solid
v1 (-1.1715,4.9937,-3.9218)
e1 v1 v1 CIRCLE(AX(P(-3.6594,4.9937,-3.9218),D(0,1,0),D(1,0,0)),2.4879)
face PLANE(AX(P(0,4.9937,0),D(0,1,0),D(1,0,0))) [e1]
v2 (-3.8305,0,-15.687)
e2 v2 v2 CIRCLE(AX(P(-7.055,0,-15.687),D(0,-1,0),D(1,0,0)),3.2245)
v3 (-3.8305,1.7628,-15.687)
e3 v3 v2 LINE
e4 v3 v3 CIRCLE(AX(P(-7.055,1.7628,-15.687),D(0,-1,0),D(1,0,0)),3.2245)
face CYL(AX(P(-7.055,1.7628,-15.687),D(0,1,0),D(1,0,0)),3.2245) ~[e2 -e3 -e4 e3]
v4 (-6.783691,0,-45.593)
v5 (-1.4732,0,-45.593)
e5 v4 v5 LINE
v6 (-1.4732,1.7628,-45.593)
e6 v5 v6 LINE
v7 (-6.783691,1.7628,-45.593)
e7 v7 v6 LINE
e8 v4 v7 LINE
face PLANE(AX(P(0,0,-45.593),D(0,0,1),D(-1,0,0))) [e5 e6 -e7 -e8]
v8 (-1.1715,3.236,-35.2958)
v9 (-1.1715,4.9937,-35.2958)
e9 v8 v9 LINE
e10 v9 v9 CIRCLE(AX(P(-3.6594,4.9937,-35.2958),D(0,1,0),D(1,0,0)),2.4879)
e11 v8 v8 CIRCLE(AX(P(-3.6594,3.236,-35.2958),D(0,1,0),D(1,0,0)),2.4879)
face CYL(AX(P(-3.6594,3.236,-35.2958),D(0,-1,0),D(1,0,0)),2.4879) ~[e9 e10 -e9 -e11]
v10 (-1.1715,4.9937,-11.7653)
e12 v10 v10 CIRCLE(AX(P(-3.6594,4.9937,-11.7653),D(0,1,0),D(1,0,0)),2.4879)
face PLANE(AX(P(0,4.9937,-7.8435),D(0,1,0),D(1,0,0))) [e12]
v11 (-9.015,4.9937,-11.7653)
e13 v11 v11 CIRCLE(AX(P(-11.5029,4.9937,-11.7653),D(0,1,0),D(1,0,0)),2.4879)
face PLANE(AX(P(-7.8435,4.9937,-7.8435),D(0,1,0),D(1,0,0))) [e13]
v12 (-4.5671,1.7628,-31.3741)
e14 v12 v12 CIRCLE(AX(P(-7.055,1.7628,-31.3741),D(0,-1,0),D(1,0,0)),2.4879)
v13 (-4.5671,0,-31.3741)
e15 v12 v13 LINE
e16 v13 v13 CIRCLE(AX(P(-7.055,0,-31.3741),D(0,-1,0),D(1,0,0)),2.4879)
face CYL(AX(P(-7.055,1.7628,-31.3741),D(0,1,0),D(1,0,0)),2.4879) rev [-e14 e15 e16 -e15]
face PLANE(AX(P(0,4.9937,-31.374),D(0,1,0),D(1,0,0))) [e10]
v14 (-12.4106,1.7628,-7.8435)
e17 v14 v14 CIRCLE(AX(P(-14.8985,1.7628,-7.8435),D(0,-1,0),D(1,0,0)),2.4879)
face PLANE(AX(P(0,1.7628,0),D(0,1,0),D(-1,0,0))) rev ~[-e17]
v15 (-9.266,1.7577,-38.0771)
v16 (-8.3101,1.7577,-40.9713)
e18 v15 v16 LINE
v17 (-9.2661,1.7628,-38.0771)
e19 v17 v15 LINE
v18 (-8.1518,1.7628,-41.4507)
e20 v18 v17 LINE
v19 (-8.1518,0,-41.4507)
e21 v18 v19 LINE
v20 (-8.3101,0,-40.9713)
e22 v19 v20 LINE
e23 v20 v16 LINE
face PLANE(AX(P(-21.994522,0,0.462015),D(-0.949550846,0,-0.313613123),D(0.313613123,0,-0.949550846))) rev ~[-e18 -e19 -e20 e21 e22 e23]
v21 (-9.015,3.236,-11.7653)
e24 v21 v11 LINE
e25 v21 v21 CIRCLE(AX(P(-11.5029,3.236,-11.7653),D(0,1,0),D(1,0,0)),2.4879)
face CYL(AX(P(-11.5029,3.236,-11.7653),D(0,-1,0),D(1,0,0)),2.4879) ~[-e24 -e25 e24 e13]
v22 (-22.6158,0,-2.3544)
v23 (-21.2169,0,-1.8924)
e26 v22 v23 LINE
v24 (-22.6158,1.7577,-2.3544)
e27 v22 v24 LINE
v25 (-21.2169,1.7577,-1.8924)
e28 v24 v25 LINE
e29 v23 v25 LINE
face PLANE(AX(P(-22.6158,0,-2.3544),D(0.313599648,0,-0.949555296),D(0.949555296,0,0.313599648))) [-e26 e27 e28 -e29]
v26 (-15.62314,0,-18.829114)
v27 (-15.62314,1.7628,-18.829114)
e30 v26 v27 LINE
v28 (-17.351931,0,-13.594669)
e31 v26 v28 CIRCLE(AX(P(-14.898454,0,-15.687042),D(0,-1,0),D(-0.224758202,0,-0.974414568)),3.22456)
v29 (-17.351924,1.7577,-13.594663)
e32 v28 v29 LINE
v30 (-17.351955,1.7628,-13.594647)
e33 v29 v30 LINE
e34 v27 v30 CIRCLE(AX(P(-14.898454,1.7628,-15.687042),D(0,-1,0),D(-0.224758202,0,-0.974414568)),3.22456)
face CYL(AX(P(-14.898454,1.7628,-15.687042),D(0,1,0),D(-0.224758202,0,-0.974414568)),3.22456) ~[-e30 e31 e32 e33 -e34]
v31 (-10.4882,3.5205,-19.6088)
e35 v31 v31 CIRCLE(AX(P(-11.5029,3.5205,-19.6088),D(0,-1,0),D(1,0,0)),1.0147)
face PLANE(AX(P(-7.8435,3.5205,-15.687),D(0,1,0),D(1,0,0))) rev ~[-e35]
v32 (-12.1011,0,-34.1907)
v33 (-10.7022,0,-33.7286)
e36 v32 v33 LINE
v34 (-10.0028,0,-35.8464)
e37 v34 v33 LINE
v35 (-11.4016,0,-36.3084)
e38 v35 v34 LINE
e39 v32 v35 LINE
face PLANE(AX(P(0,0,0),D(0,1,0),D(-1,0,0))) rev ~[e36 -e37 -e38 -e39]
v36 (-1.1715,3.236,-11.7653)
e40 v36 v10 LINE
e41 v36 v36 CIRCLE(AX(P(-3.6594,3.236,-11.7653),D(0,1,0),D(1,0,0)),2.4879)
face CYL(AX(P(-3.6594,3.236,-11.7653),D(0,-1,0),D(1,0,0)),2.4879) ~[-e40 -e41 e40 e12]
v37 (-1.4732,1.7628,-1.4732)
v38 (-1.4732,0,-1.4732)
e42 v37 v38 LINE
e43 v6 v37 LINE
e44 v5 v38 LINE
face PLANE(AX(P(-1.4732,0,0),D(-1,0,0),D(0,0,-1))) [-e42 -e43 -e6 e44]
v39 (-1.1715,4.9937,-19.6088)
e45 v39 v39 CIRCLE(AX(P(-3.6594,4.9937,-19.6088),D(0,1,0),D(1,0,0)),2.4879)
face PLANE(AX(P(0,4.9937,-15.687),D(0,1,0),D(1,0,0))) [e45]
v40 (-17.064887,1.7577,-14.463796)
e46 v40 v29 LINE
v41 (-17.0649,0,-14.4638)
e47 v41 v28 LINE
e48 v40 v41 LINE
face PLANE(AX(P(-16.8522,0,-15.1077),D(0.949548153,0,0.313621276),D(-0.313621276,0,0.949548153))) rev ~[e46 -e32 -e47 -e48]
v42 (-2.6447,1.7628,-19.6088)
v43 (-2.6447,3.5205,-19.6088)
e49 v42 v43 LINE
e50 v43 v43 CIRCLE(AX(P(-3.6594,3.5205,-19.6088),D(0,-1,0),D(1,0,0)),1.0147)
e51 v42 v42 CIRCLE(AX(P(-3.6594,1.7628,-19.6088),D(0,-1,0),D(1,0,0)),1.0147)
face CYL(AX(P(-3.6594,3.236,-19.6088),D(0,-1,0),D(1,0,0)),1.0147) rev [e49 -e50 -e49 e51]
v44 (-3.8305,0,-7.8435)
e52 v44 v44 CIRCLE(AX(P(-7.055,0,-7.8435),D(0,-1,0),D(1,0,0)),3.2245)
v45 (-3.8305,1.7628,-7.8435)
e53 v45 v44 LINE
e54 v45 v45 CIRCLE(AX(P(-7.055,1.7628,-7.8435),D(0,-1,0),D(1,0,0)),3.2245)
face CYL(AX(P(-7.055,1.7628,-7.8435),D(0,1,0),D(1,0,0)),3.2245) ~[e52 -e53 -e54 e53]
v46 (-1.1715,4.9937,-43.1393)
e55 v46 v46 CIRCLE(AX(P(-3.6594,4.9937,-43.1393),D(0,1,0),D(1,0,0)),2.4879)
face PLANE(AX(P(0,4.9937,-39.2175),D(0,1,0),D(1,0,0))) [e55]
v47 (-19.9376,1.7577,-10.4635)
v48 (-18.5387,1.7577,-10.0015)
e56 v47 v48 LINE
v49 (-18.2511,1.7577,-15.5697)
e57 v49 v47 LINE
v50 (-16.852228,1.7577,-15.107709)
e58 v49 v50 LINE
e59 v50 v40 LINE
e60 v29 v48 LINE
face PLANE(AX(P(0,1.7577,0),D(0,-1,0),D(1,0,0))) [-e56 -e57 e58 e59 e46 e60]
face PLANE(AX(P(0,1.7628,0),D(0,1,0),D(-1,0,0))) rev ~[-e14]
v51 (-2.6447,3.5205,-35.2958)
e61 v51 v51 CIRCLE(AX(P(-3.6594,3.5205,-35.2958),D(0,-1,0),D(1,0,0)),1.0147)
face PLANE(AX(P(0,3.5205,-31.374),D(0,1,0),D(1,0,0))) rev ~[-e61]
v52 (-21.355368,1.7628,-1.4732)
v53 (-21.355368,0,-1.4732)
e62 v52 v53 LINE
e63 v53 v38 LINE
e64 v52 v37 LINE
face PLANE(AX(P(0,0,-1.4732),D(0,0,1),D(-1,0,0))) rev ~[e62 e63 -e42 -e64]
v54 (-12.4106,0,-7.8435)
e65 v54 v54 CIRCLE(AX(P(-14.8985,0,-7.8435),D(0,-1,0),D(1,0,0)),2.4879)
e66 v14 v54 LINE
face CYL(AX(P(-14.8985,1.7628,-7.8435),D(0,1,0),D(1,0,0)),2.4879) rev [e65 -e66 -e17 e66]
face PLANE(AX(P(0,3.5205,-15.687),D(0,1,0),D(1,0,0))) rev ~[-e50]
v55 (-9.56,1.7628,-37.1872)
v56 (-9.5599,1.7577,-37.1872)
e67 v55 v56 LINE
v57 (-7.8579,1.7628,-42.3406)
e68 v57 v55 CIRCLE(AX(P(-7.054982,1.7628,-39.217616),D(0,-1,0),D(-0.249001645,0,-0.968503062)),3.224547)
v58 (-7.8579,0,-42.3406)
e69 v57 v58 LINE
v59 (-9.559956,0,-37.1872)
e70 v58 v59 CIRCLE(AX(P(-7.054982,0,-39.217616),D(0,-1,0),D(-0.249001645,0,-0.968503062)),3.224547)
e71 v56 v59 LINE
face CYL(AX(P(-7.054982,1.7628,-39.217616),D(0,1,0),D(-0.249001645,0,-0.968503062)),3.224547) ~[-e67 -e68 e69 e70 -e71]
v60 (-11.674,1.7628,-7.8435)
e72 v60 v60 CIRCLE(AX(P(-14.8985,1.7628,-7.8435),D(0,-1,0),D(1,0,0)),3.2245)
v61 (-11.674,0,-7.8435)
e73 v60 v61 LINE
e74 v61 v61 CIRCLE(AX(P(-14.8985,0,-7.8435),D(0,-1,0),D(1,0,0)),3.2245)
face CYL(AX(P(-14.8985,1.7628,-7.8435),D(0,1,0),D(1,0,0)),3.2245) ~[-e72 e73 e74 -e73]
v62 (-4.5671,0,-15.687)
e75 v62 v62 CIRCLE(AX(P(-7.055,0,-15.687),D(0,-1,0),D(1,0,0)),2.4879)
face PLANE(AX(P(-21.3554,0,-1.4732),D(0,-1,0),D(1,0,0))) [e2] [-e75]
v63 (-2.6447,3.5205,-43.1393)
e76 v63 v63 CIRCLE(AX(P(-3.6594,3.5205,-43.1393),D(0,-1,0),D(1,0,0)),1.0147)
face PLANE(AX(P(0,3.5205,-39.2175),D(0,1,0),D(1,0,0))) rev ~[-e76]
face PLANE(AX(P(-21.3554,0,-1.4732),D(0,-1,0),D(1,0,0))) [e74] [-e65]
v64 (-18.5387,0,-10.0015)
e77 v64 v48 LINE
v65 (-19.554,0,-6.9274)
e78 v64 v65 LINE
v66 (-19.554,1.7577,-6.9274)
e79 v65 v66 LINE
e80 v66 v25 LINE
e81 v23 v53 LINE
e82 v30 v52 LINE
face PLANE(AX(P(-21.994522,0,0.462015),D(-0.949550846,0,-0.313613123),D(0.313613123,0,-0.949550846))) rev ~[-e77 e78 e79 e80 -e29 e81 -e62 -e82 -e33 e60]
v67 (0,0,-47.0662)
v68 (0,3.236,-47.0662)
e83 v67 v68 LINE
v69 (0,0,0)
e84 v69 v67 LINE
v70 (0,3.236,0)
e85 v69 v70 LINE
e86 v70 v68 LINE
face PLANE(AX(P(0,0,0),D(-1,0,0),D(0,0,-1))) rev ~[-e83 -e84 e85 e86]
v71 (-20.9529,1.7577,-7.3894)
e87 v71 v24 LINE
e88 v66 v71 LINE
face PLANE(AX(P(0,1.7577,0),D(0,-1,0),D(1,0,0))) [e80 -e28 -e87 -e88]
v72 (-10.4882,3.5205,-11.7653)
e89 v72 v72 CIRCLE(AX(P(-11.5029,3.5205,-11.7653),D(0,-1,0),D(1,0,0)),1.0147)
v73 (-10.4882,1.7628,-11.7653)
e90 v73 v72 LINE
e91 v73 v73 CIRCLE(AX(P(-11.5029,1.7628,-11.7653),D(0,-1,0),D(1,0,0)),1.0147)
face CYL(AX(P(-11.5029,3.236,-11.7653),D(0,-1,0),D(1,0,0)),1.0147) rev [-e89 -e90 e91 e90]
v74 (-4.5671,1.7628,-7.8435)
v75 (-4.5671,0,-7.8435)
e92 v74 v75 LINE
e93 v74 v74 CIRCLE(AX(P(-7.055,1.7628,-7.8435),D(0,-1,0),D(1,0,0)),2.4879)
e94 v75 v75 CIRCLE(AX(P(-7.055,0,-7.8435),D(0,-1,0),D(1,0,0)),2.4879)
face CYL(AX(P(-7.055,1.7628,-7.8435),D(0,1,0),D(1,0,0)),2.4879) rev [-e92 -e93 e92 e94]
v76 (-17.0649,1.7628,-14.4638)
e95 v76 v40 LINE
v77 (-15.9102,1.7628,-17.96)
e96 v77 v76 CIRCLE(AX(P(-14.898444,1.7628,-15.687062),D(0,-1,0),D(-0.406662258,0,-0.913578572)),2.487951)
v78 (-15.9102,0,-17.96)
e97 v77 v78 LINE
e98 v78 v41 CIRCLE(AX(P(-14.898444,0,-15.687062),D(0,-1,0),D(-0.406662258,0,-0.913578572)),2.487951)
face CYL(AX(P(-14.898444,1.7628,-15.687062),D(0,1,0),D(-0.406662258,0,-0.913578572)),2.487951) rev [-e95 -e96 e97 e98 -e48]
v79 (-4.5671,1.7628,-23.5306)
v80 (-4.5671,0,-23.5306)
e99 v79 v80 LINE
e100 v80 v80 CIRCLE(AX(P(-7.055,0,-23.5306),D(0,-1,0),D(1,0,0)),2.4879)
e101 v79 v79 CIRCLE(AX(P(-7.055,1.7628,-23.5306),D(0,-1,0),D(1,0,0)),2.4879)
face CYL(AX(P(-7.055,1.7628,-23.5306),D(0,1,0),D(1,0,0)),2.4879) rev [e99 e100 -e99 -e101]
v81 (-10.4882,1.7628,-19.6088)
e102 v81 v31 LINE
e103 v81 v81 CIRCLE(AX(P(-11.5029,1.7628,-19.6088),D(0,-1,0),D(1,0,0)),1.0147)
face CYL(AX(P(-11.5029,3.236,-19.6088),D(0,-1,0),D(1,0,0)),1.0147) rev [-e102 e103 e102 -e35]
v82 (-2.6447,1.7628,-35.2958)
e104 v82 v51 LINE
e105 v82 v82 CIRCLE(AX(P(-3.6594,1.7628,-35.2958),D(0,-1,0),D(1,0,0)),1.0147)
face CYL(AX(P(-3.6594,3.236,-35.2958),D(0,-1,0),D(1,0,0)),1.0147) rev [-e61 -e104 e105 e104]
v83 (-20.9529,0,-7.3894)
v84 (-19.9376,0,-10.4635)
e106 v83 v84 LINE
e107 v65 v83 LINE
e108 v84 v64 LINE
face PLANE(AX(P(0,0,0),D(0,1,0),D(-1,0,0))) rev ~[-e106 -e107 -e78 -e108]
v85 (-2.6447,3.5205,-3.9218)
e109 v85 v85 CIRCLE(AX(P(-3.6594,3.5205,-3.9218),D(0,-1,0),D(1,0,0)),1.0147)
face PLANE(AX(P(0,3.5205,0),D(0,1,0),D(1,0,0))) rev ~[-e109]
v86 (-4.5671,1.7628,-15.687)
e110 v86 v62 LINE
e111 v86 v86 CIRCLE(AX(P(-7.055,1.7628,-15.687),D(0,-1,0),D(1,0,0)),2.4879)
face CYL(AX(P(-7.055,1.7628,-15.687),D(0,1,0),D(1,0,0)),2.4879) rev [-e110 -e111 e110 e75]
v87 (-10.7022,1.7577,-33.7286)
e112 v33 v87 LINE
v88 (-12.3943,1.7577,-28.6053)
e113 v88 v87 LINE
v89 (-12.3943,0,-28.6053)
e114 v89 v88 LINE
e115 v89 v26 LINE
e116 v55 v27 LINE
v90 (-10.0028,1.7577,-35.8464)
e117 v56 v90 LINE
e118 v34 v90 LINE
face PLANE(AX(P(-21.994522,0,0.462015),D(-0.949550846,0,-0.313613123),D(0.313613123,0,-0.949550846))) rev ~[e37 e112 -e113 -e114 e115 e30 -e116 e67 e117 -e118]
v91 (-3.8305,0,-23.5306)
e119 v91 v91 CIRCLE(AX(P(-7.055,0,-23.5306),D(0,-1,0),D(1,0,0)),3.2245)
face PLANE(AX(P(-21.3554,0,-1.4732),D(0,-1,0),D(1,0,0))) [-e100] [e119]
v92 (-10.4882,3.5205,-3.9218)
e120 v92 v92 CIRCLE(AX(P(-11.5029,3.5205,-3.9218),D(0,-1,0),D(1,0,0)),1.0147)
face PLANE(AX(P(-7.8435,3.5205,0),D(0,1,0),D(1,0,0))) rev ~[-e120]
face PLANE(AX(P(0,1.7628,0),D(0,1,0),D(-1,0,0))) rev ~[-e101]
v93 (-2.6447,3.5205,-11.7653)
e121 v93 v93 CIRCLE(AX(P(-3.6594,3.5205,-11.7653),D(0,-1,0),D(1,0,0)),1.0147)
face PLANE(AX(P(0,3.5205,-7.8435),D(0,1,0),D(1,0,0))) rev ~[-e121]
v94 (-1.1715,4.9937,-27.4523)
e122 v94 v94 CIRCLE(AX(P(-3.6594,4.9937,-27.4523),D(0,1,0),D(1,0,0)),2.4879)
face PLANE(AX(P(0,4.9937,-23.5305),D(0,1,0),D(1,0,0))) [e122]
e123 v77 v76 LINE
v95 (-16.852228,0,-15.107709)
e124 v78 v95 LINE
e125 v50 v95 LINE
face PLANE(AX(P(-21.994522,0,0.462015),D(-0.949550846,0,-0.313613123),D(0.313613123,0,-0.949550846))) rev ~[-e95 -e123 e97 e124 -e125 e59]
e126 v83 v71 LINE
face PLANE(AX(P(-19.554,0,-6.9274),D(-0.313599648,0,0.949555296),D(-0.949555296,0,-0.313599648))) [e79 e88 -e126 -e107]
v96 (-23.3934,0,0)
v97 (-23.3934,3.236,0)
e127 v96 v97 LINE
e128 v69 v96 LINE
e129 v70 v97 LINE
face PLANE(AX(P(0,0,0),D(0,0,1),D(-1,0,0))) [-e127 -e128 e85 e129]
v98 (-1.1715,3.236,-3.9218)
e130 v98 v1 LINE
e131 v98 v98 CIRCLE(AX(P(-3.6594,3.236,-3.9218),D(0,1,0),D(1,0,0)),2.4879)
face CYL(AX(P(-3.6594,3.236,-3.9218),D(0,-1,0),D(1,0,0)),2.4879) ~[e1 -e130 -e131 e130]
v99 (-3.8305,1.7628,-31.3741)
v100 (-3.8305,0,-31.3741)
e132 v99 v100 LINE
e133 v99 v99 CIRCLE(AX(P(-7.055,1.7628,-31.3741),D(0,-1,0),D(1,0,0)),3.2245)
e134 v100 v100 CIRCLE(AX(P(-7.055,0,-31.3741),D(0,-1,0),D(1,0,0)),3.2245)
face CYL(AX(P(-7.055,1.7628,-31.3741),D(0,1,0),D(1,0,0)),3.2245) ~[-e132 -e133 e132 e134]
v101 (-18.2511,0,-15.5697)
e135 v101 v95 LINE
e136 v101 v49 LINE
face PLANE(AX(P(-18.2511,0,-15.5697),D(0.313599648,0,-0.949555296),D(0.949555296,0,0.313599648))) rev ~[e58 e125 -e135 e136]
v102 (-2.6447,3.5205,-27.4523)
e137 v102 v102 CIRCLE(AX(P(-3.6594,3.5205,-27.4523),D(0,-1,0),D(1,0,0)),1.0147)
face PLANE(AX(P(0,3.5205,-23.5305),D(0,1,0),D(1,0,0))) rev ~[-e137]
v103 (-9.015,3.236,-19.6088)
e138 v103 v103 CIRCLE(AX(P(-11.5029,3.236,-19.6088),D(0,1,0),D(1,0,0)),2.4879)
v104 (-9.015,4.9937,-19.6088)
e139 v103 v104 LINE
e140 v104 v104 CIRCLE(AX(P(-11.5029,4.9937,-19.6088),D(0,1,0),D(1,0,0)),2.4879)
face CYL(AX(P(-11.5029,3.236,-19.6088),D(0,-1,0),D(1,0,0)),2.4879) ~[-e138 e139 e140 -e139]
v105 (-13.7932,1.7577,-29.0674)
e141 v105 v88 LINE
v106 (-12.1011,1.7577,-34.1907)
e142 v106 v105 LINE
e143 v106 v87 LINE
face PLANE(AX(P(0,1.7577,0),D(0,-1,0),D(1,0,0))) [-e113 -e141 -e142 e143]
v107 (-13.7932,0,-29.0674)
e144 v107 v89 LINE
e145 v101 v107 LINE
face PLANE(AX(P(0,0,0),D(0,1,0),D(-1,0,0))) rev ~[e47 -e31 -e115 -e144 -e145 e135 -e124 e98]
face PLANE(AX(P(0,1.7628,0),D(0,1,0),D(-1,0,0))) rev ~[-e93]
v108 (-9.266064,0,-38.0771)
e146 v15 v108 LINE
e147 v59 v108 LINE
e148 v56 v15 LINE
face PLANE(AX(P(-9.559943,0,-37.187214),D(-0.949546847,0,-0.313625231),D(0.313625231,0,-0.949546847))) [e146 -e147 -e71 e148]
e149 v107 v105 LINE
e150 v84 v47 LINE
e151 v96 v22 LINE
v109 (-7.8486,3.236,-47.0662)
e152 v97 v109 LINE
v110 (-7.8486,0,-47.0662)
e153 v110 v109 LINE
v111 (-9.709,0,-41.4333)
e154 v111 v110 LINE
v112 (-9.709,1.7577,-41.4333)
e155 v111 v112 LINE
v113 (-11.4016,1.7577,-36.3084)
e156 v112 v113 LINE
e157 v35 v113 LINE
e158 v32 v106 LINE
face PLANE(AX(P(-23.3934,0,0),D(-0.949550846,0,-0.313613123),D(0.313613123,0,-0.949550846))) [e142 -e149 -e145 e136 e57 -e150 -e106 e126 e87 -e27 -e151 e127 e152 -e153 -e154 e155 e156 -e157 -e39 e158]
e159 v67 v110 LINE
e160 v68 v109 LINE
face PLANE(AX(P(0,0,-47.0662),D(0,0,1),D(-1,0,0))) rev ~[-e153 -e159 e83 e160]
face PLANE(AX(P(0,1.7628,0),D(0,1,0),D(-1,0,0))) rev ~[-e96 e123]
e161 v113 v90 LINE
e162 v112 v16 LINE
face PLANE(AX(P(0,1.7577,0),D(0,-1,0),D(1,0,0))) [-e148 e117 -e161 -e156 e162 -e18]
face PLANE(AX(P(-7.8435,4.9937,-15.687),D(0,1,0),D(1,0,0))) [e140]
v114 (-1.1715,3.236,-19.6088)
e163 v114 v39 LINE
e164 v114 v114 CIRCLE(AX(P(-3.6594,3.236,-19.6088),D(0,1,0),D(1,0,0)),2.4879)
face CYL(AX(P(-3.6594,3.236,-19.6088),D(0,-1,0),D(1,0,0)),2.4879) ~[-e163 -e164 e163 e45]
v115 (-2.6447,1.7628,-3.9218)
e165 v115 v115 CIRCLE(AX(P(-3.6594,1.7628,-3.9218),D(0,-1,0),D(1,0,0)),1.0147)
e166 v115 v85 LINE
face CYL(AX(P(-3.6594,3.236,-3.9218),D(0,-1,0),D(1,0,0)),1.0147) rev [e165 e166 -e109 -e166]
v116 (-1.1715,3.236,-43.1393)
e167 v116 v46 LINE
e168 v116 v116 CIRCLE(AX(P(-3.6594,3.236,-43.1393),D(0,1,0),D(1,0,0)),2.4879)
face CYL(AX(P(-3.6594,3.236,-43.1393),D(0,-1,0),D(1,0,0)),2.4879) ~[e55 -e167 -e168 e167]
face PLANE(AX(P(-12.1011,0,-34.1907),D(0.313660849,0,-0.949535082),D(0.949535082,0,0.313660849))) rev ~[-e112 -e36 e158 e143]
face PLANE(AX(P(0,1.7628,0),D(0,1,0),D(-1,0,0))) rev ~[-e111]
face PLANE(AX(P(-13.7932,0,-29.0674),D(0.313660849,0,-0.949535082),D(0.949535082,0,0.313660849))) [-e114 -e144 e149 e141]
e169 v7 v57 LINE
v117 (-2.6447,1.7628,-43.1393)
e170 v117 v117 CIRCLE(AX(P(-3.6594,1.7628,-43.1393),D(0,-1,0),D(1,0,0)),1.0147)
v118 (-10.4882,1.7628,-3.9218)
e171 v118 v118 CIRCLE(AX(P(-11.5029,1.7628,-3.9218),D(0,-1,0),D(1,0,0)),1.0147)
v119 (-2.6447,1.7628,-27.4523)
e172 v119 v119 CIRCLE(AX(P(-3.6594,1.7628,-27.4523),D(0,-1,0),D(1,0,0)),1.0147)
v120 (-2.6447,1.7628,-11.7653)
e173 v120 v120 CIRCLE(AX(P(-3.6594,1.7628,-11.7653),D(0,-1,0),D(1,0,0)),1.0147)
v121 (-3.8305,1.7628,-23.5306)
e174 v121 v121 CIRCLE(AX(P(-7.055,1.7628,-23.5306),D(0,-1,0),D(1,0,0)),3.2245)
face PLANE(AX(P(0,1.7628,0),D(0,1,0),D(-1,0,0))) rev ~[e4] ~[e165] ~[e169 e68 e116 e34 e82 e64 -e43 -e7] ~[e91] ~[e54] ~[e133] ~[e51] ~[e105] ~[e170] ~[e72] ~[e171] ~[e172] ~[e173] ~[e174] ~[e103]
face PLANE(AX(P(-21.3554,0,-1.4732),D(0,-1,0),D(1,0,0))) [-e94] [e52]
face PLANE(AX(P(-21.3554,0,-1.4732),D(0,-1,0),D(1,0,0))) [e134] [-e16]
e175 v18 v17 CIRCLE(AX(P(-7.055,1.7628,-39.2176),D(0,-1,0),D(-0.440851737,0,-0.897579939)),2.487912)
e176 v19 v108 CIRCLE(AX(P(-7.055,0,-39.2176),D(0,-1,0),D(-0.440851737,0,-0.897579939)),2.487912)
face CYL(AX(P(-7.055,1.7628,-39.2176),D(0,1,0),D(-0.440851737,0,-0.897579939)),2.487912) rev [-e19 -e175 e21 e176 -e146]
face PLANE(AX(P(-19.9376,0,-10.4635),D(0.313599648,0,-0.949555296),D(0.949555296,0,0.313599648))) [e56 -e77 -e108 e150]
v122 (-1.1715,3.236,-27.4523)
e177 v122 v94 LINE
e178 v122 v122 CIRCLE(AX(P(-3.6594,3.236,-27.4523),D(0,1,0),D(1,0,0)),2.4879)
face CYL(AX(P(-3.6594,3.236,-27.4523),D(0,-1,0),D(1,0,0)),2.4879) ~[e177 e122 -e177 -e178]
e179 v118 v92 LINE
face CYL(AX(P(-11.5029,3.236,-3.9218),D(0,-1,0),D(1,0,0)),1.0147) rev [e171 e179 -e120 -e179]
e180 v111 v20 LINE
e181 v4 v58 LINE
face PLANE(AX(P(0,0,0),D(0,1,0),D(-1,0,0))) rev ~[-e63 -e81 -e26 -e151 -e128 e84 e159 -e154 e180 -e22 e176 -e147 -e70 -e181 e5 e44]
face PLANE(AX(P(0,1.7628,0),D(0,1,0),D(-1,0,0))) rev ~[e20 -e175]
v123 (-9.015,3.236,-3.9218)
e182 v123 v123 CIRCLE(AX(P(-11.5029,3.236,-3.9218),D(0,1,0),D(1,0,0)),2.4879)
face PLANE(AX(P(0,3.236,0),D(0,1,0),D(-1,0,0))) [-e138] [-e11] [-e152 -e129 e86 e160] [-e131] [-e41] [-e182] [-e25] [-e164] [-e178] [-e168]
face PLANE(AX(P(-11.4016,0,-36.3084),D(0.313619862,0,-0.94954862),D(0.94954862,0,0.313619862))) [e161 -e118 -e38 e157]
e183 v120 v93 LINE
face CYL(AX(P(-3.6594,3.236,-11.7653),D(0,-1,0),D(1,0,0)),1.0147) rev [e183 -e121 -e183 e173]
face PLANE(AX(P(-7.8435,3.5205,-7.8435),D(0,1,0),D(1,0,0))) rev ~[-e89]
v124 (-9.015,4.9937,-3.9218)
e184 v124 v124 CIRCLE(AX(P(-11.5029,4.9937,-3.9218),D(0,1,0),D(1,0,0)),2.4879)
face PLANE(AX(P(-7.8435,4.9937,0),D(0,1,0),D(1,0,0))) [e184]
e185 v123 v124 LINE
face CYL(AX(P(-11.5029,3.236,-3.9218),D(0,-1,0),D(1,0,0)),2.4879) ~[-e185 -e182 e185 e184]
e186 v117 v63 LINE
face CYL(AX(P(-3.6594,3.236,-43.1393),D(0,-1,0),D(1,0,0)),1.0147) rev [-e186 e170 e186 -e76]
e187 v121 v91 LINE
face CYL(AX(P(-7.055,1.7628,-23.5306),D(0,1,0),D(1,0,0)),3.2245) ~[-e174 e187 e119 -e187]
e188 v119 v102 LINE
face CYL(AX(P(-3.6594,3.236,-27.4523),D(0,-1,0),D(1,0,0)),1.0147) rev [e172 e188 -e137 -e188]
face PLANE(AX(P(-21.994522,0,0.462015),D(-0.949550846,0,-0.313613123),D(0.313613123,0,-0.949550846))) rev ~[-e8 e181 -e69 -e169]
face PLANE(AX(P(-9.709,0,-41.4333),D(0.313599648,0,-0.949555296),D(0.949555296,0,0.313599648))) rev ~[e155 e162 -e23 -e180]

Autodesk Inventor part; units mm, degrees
ref_plane "YZ Plane" through (0, 0, 0) normal (1, 0, 0) x (0, 1, 0)
ref_plane "XZ Plane" through (0, 0, 0) normal (0, 1, 0) x (-1, 0, 0)
sketch "Sketch1" plane through (0, 0, 0) normal (0, 1, 0) x (-1, 0, 0)
  line L0 (0, 0) -> (0, -47.0662)
  line L1 (0, -47.0662) -> (7.8486, -47.0662)
  line L2 (0, 0) -> (23.3934, 0)
  line L3 (23.3934, 0) -> (7.8486, -47.0662)
  dimension "d0" = 47.0662
  dimension "d1" = 7.8486
  dimension "d2" = 23.3934
extrude "Extrusion1" add sketch "Sketch1" along normal blind 3.236
sketch "Sketch2" plane through (0, 3.236, 0) normal (0, 1, 0) x (1, 0, 0)
  circle A0 centre (-3.6594, 3.9218) radius 2.4879
  line L0 (-23.3934, 0) -> (0, 0) projected
  dimension "d5" = 4.9759
  dimension "d6" = 3.9218
extrude "Extrusion2" add sketch "Sketch2" along normal blind 1.7577
ref_plane "Work Plane1" through (-11.503, 4.9936, -43.1394) normal (0, 1, 0) x (1, 0, 0)
sketch "Sketch3" plane through (-11.503, 4.9936, -43.1394) normal (0, 1, 0) x (1, 0, 0)
  point P0 (11.503, -43.1394)
pattern_linear "Rectangular Pattern2" count 6 spacing 7.8435 along (0, 0, -1) of "Extrusion2"
pattern_linear "Rectangular Pattern3" count 2 spacing 7.8435 along (-1, 0, 0) of "Extrusion2"
pattern_linear "Rectangular Pattern4" count 3 spacing 7.8435 along (0, 0, -1) of "Extrusion2", "Rectangular Pattern3"
shell "Shell1" thickness 1.4732 removed faces 1 at (-10.414, 0, -15.6887)
sketch "Sketch5" plane through (-21.3554, 1.7628, -1.4732) normal (0, -1, 0) x (1, 0, 0)
  circle A0 centre (14.3004, -14.2138) radius 2.4879
  circle A1 centre (14.3004, -22.0574) radius 2.4879
  circle A2 centre (14.3004, -29.9009) radius 2.4879
  circle A3 centre (14.3004, -14.2138) radius 3.2245
  circle A4 centre (14.3004, -22.0574) radius 3.2245
  circle A5 centre (14.3004, -29.9009) radius 3.2245
  circle A6 centre (6.4569, -6.3703) radius 2.4879
  circle A7 centre (6.4569, -6.3703) radius 3.2245
  circle A8 centre (14.3004, -6.3703) radius 2.4879
  circle A9 centre (14.3004, -6.3703) radius 3.2245
  line L0 (-2.038, 1.4732) -> (21.3554, 1.4732) projected
  line L1 (14.5717, -44.1198) -> (0, 0) projected
  line L2 (5.7322, -17.3559) -> (5.4452, -16.4868)
  line L3 (4.2905, -12.9906) -> (4.0034, -12.1215)
  arc A10 (5.7322, -17.3559) -> (4.0034, -12.1215) centre (6.4569, -14.2138) ccw
  arc A11 (5.4452, -16.4868) -> (4.2905, -12.9906) centre (6.4569, -14.2138) ccw
  line L4 (13.4975, -40.8674) -> (13.2036, -39.9775)
  line L5 (12.0893, -36.6039) -> (11.7954, -35.714)
  arc A12 (13.4975, -40.8674) -> (11.7954, -35.714) centre (14.3004, -37.7444) ccw
  arc A13 (13.2036, -39.9775) -> (12.0893, -36.6039) centre (14.3004, -37.7444) ccw
  dimension "d38" = 4.9759
  dimension "d39" = 4.9759
  dimension "d40" = 4.9759
  dimension "d42" = 6.4491
  dimension "d43" = 6.4491
  dimension "d45" = 6.4491
  dimension "d46" = 4.9759
  dimension "d47" = 6.4491
  dimension "d49" = 7.8435
  dimension "d50" = 7.8435
  dimension "d55" = 4.9759
  dimension "d56" = 6.4491
  dimension "d57" = 7.8435
  dimension "d58" = 7.8435
  dimension "d59" = 7.8435
extrude "Extrusion5" add sketch "Sketch5" along normal blind 1.7628 contours A3 | A4 | A5 | A7 | A9 | L1 A11 A10 | L1 A13 A12
sketch "Sketch7" plane through (0, 0, 0) normal (0, -1, 0) x (1, 0, 0)
  line L0 (-7.8486, -47.0662) -> (-23.3934, 0) projected
  line L1 (-22.6158, -2.3544) -> (-21.2169, -1.8924)
  line L2 (-17.3519, -13.5947) -> (-21.3554, -1.4732) projected
  line L3 (-21.2169, -1.8924) -> (-19.554, -6.9274)
  line L4 (-19.554, -6.9274) -> (-20.9529, -7.3894)
  line L5 (-22.6158, -2.3544) -> (-20.9529, -7.3894)
  line L6 (-19.9376, -10.4635) -> (-18.5387, -10.0015)
  line L7 (-18.2511, -15.5697) -> (-16.8522, -15.1077)
  line L8 (-16.8522, -15.1077) -> (-18.5387, -10.0015)
  line L9 (-19.9376, -10.4635) -> (-18.2511, -15.5697)
  line L10 (-13.7932, -29.0674) -> (-12.3943, -28.6053)
  line L11 (-12.3943, -28.6053) -> (-10.7022, -33.7286)
  line L12 (-9.5599, -37.1872) -> (-15.6232, -18.8291) projected
  line L13 (-12.1011, -34.1907) -> (-13.7932, -29.0674)
  line L14 (-12.1011, -34.1907) -> (-10.7022, -33.7286)
  line L15 (-11.4016, -36.3084) -> (-10.0028, -35.8464)
  line L16 (-10.0028, -35.8464) -> (-8.3101, -40.9713)
  line L17 (-8.1518, -41.4507) -> (-9.266, -38.0771) projected
  line L18 (-9.709, -41.4333) -> (-8.3101, -40.9713)
  line L19 (-9.709, -41.4333) -> (-11.4016, -36.3084)
  point P0 (0, 0)
extrude "Extrusion6" cut sketch "Sketch7" against normal blind 1.7577 contours L0 L6 L2 L8 L7 | L0 L15 L12 L16 L18 | L0 L10 L11 L14 | L0 L1 L2 L4
properties part number "opposite grey peice"
